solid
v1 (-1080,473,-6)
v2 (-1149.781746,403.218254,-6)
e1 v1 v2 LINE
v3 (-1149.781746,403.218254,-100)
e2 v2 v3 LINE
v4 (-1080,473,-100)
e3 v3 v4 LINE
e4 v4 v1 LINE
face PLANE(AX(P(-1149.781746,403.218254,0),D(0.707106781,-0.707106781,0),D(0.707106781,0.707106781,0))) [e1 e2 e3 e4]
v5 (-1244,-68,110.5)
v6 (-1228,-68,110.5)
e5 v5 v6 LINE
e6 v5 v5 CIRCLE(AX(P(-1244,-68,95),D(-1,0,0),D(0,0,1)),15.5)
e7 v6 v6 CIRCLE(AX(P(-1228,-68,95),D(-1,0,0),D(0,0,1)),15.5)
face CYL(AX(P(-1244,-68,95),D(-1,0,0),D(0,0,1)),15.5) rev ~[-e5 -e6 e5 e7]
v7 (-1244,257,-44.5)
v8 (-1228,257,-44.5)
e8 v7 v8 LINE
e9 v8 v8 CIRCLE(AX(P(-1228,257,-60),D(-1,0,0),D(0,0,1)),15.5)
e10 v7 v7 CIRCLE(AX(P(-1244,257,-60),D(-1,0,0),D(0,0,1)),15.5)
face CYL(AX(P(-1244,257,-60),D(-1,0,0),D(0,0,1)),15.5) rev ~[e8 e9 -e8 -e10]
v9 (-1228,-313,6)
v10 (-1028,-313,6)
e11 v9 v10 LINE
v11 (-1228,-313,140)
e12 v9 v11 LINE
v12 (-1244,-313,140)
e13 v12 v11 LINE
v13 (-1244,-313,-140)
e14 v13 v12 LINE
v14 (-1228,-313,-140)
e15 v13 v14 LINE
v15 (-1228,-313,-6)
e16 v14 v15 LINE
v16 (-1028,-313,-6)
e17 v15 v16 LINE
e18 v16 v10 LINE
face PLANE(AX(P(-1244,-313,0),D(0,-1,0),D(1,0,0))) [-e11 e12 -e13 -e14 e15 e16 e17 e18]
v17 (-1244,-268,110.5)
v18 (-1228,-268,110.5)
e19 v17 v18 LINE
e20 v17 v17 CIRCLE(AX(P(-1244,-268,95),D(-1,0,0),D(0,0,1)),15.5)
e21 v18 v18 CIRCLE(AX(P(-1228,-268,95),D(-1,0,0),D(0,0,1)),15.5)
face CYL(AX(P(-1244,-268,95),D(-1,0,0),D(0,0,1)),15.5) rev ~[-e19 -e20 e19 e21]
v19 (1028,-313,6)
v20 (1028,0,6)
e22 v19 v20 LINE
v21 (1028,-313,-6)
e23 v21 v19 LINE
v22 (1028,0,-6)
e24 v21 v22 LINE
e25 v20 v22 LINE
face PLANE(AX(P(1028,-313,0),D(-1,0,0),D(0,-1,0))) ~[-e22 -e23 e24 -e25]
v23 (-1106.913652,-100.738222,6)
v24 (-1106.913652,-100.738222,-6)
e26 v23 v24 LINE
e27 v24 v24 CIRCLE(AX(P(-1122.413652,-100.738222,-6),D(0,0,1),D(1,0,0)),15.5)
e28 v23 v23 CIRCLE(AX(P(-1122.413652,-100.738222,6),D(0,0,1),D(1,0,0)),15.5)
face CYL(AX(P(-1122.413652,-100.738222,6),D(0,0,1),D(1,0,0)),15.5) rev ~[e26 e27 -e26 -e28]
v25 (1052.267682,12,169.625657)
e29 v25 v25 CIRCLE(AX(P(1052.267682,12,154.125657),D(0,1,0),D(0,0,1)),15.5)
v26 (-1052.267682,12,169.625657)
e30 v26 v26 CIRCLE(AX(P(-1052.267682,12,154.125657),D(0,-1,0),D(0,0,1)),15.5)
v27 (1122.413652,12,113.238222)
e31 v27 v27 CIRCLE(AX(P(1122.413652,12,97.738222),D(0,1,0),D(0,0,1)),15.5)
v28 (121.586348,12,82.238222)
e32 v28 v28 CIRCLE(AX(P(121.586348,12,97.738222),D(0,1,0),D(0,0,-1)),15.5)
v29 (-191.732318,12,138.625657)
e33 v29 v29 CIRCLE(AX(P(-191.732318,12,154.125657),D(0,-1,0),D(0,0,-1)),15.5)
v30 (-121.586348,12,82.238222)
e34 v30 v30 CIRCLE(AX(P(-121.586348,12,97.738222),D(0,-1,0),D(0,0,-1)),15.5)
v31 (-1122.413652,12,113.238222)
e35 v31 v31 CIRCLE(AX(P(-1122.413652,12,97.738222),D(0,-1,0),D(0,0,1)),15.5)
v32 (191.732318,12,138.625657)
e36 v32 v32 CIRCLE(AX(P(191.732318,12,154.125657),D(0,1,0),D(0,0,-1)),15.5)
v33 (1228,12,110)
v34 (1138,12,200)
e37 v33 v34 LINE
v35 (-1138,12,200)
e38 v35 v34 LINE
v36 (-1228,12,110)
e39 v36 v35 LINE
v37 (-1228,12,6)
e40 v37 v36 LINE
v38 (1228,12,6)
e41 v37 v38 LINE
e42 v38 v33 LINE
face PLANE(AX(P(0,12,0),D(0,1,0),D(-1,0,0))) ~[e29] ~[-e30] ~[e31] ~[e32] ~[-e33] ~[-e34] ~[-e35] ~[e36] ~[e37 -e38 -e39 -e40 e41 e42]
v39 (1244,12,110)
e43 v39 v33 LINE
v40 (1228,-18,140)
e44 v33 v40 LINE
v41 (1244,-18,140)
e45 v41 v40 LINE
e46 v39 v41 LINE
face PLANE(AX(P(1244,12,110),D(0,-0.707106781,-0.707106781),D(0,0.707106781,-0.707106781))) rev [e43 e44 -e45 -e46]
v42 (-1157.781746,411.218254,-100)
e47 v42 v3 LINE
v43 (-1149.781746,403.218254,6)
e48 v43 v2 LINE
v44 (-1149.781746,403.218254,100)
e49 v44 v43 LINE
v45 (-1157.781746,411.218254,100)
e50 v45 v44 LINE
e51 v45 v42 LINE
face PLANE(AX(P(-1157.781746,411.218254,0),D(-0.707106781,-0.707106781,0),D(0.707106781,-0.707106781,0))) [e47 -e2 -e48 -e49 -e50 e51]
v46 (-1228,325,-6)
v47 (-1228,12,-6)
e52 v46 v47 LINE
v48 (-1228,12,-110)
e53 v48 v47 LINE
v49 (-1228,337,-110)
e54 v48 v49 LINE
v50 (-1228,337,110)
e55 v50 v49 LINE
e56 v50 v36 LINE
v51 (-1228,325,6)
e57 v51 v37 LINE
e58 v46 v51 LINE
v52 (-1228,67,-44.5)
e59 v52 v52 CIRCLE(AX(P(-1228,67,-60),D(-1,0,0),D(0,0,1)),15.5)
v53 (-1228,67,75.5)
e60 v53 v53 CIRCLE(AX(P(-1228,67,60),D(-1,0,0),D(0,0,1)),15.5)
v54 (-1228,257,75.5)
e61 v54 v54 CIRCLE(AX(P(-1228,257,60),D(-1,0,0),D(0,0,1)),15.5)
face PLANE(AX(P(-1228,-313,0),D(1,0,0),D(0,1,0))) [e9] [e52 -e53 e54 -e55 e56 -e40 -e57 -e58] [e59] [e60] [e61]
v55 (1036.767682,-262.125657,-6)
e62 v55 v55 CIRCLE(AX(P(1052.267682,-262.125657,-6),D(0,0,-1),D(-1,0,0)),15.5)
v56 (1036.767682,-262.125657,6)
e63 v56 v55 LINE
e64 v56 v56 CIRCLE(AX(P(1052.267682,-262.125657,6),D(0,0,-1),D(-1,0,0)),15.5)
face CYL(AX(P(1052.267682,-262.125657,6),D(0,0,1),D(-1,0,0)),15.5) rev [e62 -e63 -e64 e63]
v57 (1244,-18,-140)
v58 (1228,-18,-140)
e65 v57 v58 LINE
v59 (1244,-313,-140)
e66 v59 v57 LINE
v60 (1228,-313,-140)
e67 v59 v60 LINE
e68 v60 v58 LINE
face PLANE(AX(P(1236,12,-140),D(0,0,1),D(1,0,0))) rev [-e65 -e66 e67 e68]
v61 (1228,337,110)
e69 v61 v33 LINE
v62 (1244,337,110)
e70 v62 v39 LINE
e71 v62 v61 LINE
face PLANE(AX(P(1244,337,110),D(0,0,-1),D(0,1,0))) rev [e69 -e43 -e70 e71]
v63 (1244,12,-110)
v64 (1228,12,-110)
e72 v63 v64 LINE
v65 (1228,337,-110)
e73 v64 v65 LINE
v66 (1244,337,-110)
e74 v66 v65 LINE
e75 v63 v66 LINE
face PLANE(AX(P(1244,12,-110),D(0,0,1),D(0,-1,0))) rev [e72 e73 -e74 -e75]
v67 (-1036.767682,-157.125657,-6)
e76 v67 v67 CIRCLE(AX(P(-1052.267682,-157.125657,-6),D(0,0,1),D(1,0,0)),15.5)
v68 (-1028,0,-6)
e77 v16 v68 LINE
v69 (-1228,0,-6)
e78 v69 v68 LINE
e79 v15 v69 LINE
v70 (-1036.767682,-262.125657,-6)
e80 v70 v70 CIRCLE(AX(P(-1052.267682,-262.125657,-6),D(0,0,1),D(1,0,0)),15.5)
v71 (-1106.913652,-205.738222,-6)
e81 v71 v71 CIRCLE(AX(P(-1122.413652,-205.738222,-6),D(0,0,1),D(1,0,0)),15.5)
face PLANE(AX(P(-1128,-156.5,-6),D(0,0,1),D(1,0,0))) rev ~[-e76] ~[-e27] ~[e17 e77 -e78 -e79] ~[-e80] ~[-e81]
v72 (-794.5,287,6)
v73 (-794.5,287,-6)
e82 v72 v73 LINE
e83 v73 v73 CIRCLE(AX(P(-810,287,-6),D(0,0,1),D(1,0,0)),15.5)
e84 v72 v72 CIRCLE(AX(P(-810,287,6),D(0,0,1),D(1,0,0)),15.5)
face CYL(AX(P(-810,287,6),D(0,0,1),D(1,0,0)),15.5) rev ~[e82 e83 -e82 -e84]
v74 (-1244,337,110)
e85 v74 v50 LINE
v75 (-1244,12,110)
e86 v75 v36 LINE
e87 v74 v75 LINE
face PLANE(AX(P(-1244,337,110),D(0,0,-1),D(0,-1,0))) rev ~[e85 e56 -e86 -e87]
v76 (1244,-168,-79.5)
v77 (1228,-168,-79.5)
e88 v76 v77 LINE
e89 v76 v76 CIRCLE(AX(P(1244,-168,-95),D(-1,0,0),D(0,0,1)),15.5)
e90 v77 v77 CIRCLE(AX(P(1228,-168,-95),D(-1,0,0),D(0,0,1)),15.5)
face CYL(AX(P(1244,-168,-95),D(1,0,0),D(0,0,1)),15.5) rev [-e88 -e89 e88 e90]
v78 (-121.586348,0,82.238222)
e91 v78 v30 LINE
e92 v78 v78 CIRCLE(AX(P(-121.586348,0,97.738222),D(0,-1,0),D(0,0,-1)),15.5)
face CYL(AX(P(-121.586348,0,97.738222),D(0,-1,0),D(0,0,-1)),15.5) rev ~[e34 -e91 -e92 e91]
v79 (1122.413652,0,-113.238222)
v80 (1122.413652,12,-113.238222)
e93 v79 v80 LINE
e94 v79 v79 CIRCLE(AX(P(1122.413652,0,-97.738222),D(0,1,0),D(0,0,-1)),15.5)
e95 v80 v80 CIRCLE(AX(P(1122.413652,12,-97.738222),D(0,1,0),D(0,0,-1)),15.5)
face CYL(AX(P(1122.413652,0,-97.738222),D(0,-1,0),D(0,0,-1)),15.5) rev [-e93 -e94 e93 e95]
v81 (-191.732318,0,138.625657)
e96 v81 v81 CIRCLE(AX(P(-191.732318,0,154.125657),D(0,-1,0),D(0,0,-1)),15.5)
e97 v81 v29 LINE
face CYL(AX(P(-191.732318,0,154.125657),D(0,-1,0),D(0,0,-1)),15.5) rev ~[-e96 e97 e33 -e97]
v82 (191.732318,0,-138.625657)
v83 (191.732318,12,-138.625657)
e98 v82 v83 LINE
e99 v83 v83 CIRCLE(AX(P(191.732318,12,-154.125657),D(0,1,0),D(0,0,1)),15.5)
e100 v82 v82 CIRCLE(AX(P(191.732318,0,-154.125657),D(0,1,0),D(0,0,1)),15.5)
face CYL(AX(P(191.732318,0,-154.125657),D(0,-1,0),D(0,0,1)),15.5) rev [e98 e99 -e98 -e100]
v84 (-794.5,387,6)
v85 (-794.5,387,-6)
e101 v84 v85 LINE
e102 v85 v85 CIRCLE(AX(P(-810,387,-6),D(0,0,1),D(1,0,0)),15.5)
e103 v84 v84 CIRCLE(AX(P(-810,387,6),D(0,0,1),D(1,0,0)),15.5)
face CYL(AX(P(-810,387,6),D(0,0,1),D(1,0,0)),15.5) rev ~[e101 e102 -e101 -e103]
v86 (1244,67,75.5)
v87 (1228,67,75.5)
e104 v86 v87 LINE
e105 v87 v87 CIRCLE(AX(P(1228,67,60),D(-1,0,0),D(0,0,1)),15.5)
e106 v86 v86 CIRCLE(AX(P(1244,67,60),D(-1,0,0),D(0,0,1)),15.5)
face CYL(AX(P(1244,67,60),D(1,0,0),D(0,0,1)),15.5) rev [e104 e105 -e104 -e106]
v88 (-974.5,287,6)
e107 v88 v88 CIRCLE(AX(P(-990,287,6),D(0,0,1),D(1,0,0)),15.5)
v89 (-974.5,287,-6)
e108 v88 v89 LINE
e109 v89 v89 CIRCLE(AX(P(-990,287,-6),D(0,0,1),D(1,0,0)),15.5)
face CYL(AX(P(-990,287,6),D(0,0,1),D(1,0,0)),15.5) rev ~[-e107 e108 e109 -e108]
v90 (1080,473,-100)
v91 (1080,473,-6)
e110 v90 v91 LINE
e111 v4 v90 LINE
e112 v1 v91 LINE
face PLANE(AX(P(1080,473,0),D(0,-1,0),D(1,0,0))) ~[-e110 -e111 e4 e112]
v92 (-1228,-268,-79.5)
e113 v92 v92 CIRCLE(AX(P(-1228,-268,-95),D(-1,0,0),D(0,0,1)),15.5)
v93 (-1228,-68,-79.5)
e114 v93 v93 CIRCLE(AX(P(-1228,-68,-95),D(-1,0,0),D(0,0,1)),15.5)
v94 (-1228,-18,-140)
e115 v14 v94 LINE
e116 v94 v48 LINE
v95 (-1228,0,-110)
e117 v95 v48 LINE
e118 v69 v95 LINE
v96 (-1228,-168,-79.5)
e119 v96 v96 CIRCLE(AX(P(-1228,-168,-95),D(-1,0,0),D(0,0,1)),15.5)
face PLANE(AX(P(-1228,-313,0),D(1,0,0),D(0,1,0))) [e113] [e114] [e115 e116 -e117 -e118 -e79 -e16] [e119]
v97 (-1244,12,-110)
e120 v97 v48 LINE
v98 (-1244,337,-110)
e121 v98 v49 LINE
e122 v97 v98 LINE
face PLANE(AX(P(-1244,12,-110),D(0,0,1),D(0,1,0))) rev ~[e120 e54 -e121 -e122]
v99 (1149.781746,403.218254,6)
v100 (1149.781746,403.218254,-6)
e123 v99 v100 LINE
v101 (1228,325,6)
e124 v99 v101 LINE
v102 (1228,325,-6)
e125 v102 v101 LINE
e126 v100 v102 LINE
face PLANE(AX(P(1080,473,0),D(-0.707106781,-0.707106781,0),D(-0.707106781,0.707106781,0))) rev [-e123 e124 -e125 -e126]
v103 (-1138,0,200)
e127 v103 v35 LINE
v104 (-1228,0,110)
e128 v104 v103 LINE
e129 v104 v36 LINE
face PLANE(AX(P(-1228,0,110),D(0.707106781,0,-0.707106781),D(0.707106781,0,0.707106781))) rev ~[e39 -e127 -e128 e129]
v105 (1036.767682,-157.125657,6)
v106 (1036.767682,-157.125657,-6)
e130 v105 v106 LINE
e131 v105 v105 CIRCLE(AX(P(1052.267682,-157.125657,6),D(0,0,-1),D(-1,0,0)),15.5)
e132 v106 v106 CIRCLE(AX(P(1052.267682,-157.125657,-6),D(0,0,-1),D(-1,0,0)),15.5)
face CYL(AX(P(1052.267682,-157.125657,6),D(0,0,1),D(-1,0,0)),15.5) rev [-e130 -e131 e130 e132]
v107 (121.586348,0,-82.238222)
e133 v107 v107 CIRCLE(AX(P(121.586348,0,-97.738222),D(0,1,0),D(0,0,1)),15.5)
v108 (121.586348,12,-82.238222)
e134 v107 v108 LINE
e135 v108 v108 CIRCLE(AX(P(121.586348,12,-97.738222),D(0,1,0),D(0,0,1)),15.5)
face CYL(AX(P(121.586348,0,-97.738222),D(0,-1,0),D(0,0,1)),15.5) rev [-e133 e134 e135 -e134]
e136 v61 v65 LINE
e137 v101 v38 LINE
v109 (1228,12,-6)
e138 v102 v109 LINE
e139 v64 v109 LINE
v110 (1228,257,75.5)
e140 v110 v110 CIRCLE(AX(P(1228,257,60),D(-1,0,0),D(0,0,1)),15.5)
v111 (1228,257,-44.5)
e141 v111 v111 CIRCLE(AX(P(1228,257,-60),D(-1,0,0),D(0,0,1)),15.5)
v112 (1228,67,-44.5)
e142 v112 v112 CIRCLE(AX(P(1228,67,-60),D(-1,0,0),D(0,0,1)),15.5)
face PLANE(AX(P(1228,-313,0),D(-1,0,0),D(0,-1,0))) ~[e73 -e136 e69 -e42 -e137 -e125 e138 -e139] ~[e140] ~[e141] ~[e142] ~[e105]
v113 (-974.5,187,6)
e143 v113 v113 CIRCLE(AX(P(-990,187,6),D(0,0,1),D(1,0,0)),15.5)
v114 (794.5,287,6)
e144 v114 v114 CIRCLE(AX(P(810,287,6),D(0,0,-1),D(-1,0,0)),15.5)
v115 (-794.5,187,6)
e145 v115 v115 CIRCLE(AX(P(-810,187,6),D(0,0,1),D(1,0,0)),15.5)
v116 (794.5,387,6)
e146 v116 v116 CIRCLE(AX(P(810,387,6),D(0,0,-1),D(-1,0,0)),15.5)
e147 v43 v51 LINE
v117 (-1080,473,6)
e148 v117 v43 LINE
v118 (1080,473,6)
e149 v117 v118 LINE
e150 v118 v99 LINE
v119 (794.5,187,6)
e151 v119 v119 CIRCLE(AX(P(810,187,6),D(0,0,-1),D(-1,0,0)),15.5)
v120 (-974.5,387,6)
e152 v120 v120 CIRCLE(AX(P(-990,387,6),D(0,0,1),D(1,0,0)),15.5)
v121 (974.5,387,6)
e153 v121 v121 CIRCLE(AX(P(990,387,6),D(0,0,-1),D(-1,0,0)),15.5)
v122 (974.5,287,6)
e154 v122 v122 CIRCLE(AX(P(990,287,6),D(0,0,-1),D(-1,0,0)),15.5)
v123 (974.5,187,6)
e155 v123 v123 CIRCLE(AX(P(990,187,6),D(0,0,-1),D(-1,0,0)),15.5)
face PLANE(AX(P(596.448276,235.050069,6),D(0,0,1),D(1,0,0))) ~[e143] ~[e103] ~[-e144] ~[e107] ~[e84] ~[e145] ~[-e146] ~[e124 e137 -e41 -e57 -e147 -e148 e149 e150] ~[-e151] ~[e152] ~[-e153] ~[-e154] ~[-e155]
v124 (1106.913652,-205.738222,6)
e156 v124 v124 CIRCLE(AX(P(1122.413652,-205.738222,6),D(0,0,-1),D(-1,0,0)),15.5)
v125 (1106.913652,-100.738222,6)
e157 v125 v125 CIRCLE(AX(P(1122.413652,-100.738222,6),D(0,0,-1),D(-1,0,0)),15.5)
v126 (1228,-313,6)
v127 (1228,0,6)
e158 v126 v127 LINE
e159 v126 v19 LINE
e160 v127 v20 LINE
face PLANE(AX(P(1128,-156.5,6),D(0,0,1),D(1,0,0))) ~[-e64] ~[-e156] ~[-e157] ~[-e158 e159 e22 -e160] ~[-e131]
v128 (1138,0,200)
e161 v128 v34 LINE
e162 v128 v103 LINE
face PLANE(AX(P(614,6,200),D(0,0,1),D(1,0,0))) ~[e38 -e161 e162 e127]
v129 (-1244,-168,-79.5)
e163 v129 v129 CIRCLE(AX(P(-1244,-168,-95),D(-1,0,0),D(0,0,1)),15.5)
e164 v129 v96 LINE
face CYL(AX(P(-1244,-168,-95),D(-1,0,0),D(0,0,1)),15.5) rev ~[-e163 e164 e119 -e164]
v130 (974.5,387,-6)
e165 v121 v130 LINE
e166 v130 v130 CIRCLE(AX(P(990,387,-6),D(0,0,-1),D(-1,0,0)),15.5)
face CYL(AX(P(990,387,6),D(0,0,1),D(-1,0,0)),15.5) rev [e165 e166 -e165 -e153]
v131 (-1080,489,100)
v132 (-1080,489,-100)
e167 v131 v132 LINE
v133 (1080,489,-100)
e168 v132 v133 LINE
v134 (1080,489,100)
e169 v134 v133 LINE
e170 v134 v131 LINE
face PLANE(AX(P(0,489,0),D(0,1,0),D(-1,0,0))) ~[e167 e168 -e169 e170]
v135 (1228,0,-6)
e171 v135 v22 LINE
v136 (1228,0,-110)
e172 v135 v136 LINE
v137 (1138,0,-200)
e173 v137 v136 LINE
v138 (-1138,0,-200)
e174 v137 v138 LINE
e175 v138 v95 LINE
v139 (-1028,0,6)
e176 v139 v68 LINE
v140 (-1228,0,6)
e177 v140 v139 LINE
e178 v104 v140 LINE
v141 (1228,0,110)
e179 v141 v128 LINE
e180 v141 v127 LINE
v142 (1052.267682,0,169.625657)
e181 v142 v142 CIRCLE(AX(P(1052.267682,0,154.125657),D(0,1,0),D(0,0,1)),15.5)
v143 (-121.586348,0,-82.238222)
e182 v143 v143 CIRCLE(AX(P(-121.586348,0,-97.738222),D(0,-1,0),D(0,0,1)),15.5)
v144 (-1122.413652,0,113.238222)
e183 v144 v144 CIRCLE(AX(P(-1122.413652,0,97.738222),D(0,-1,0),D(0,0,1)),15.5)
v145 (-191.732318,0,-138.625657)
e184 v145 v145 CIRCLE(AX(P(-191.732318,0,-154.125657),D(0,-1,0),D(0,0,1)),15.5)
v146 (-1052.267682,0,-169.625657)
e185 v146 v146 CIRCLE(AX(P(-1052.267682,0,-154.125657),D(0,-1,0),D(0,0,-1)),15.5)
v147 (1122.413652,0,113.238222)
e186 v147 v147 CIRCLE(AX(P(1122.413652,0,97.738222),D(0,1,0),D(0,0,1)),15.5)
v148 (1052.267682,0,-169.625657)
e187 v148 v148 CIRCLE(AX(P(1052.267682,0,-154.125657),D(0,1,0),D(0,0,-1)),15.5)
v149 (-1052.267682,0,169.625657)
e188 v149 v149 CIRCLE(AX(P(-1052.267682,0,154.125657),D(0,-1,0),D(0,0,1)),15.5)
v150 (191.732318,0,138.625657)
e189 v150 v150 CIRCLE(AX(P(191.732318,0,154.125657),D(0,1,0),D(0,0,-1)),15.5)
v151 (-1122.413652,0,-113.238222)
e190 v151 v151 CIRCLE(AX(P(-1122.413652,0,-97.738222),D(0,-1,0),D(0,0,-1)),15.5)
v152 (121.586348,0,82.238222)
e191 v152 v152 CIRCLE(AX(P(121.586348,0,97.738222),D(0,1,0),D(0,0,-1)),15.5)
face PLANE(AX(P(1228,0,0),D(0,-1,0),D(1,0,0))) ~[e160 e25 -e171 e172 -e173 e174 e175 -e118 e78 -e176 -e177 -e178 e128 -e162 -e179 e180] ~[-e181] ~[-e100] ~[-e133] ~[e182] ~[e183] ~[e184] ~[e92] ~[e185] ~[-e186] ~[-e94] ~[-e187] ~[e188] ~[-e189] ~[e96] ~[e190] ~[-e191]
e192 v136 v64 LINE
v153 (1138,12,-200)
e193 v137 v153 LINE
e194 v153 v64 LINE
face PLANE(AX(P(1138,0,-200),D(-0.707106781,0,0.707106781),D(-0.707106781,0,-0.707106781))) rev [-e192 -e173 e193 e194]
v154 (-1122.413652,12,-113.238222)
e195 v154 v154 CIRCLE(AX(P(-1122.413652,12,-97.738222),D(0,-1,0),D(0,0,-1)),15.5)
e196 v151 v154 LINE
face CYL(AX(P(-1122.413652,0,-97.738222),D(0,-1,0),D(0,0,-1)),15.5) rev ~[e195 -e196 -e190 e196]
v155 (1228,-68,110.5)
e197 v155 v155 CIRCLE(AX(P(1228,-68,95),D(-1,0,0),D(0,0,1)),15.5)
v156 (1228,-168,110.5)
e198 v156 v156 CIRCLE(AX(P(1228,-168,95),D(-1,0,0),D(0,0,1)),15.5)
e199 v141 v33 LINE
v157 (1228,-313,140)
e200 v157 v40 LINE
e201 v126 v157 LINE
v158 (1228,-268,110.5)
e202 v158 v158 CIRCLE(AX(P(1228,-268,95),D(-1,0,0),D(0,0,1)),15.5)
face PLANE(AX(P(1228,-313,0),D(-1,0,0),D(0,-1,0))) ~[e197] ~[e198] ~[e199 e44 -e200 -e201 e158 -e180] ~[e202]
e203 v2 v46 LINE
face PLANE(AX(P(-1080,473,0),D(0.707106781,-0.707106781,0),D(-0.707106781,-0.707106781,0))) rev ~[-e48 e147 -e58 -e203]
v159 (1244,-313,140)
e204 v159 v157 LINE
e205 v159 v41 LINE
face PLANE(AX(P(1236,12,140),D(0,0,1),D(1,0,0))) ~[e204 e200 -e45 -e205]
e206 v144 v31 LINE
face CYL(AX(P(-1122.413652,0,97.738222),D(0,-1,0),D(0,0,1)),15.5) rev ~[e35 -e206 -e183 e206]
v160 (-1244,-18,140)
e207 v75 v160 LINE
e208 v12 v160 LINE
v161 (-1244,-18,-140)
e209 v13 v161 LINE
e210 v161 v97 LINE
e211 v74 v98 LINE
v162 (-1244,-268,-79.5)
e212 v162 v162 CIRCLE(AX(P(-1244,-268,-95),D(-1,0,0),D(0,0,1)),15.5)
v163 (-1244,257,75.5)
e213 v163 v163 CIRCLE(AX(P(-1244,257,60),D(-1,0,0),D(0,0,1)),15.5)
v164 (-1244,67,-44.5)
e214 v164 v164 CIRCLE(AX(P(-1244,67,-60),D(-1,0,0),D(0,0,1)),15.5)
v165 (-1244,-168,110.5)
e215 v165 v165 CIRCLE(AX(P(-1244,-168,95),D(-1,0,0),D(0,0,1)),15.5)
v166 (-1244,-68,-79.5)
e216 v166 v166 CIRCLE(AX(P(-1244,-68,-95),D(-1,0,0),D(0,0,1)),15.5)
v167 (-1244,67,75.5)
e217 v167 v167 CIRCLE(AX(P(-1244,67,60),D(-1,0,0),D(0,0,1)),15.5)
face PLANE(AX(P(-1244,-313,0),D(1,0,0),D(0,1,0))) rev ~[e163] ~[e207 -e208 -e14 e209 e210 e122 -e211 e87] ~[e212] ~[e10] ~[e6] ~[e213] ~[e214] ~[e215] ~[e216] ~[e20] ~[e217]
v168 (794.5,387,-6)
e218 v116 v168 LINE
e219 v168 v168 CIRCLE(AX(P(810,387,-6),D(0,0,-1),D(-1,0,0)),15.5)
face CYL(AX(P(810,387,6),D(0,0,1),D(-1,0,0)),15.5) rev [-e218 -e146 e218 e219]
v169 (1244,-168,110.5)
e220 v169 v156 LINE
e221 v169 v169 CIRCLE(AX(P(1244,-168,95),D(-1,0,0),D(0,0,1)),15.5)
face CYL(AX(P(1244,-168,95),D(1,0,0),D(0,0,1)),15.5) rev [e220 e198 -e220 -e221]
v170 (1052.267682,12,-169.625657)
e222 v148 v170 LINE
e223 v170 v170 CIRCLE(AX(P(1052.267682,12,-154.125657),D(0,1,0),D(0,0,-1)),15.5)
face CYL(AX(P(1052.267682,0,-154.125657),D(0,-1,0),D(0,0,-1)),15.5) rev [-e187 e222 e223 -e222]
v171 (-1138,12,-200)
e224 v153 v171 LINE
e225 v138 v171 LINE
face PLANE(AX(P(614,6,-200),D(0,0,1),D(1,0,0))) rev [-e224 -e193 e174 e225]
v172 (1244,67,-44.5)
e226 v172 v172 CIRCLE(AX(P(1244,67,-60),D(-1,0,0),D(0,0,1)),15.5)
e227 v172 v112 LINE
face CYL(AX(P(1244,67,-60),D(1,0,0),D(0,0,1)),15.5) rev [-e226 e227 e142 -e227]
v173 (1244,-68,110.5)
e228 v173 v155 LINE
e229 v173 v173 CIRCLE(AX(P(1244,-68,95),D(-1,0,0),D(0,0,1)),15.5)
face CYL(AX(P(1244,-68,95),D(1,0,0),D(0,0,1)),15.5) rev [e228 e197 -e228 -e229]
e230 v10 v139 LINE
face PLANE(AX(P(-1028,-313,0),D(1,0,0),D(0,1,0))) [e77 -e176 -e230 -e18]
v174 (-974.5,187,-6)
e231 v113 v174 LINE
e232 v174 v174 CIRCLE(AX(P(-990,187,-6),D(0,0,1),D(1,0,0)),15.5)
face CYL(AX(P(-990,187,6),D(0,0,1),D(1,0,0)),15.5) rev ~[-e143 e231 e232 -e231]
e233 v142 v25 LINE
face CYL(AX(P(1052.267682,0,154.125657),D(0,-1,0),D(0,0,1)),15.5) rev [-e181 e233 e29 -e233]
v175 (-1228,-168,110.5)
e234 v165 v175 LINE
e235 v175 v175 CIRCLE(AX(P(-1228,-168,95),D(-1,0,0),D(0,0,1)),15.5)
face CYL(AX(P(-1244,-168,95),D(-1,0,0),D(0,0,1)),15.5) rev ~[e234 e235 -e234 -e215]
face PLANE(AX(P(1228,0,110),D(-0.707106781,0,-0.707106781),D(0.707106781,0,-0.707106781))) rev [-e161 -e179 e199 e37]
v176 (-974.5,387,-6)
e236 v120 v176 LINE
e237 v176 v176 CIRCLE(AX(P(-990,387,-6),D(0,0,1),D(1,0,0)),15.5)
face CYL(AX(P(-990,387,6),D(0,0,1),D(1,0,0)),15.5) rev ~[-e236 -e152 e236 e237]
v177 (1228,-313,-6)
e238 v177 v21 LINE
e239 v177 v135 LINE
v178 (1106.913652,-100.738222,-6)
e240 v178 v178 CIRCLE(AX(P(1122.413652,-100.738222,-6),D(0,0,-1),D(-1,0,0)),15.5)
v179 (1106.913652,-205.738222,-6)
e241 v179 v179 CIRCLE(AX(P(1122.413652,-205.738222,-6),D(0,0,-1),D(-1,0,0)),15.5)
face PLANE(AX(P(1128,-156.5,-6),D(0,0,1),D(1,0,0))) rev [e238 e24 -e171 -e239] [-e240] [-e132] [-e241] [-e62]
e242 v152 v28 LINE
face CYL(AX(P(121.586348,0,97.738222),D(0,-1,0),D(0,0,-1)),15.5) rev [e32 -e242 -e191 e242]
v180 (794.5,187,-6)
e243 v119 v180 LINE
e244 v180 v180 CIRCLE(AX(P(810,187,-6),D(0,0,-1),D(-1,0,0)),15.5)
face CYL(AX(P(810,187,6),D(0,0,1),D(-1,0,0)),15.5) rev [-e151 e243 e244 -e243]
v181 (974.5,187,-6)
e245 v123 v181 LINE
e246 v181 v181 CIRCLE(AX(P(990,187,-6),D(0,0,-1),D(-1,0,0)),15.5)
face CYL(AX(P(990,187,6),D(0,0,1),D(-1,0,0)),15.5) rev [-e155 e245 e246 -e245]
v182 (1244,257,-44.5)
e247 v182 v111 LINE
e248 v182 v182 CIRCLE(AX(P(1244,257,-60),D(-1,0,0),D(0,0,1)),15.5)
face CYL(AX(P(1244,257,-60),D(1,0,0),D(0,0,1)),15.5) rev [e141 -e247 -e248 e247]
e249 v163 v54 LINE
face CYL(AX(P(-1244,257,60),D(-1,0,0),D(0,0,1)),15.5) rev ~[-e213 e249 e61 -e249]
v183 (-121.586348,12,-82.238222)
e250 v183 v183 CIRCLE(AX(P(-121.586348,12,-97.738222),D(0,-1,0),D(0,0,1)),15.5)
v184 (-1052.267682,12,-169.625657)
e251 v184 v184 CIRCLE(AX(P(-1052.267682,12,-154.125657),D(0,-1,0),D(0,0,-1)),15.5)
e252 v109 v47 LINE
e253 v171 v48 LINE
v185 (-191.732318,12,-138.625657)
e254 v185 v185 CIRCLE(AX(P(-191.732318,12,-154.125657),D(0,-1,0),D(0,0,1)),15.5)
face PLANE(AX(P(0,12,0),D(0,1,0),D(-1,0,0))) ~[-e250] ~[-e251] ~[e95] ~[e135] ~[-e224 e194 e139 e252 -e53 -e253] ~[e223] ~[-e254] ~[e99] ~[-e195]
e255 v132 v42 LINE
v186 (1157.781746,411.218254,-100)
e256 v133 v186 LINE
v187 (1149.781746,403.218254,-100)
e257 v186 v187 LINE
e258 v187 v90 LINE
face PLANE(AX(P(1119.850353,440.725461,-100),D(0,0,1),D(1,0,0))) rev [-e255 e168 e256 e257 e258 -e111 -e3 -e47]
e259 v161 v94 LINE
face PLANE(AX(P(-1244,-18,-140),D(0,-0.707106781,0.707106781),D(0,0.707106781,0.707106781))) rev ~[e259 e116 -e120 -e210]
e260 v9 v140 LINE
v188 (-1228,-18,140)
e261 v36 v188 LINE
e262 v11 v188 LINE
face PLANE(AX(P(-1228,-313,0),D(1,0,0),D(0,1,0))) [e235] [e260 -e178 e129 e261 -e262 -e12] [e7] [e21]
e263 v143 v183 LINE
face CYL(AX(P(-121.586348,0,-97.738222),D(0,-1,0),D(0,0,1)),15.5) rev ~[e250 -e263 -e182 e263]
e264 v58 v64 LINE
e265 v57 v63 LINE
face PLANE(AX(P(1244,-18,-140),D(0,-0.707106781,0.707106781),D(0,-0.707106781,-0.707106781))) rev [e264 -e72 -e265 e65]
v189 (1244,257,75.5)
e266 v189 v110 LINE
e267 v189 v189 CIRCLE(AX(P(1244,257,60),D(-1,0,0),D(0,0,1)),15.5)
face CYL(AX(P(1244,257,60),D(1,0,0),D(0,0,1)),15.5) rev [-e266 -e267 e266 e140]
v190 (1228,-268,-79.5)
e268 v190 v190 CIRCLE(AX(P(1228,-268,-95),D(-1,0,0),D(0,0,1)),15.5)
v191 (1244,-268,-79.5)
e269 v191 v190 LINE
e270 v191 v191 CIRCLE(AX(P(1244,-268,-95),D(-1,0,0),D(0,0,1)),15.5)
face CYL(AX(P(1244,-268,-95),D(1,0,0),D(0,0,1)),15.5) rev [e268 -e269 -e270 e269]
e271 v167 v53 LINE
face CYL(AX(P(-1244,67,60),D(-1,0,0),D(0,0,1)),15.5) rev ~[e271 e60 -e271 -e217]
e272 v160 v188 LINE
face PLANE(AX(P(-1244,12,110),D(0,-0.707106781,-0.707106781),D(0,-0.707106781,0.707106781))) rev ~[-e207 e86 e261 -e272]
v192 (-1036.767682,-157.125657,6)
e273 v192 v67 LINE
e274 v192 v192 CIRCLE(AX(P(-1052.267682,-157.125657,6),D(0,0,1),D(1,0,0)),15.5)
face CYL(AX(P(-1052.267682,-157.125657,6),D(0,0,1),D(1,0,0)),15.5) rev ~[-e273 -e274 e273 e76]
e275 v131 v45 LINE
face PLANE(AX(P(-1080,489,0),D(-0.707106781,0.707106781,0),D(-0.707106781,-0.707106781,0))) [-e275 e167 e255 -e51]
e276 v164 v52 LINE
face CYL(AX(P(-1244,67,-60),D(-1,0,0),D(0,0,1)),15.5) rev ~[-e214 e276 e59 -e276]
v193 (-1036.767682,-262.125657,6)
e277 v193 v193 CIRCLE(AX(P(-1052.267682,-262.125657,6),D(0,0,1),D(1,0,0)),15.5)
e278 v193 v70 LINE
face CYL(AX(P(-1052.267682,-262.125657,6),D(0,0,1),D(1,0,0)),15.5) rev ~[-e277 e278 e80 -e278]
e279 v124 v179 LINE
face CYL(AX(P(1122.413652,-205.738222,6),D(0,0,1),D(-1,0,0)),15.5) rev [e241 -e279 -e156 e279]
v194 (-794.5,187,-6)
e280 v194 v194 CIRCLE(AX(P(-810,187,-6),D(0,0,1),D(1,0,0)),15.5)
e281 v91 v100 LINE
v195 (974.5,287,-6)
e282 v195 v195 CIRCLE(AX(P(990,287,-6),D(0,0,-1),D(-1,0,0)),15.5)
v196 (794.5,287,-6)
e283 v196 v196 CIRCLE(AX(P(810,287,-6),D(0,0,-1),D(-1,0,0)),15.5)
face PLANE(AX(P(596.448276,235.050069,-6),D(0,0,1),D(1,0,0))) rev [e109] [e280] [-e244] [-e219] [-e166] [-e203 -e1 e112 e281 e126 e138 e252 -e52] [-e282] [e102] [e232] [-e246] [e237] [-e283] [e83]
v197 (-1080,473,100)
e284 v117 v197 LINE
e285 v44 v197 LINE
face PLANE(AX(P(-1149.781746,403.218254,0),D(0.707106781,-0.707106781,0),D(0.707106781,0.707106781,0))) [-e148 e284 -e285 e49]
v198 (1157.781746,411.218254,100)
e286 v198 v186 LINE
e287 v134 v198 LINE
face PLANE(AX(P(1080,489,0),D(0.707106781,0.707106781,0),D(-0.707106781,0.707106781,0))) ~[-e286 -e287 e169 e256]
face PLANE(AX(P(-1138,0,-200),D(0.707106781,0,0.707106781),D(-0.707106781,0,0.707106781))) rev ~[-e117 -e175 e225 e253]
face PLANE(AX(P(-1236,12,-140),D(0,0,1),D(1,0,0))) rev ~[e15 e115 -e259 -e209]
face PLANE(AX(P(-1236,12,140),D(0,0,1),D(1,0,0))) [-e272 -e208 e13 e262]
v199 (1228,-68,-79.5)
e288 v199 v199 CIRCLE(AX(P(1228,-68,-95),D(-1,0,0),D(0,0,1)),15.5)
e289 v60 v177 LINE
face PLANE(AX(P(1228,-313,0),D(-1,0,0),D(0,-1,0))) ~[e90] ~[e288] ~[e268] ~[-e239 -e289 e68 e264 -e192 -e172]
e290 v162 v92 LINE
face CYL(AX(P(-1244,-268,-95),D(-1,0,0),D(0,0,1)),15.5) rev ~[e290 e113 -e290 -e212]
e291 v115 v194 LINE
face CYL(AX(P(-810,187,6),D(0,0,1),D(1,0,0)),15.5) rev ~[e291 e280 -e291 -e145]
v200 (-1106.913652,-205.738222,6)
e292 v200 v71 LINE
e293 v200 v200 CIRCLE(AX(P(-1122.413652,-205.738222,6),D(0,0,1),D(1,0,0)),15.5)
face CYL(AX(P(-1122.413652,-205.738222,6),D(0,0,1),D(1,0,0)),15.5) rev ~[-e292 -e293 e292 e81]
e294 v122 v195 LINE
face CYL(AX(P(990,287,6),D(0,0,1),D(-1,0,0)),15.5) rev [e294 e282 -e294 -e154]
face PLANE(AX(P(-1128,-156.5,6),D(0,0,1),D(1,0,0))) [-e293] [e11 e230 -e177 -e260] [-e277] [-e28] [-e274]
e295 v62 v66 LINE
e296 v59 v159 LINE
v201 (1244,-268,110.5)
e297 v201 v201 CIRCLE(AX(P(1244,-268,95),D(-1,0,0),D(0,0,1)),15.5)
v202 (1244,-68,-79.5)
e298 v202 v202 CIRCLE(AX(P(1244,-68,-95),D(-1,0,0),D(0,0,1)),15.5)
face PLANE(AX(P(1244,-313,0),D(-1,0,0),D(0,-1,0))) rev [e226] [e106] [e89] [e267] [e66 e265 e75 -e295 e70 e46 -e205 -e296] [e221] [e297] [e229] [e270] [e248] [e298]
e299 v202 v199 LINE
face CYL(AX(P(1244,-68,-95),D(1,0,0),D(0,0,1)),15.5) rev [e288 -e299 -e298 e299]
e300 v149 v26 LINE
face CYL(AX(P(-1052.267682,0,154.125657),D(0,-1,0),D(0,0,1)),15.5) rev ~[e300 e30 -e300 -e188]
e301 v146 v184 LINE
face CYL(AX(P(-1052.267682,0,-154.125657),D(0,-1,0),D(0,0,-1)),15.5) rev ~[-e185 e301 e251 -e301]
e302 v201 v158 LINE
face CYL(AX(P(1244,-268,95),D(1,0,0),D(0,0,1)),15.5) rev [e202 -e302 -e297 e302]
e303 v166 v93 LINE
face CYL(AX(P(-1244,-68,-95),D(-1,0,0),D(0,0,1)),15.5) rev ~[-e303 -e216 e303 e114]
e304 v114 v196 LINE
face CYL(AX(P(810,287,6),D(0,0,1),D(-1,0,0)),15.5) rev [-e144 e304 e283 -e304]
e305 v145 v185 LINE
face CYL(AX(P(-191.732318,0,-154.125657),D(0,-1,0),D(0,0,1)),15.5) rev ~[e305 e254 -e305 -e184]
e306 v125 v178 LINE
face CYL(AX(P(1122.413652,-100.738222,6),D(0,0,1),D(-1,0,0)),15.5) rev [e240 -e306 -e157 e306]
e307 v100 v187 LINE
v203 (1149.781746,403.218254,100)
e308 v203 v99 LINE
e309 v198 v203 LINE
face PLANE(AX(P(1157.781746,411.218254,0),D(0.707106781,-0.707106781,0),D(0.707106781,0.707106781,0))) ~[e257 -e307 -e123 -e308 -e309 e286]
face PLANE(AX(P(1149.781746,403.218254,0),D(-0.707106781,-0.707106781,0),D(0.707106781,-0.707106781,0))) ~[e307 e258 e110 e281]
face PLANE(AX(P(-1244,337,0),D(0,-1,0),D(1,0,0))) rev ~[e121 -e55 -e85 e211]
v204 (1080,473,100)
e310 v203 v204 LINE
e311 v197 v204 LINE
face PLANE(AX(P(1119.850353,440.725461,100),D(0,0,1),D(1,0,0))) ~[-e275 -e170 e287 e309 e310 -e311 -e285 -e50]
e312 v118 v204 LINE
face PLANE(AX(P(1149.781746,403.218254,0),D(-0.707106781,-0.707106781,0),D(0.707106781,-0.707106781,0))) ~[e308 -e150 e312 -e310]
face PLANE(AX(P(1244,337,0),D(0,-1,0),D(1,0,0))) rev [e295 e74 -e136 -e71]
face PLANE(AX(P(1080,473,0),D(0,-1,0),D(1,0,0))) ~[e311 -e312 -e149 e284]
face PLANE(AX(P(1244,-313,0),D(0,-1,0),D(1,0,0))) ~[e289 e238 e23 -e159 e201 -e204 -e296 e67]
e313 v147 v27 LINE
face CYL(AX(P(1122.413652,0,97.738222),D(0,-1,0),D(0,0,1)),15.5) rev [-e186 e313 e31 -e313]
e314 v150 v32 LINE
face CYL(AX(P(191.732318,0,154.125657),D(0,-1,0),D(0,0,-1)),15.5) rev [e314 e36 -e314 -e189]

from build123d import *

# Parameters (mm, degrees)
EXTRUDE_1_DEPTH     = 200
SKETCH_2_3_W        = 16
SKETCH_2_3_H        = 650
EXTRUDE_2_DEPTH     = 140
SKETCH_2_4_W        = 200
SKETCH_2_4_H        = 313
EXTRUDE_3_DEPTH     = 6
EXTRUDE_4_DEPTH     = 100
SKETCH_3_R          = 15.5
CUT_EXTRUDE_5_DEPTH = 1353.439647452
SKETCH_6_R          = 15.5
CUT_EXTRUDE_6_DEPTH = 1353.439647452
SKETCH_7_R          = 15.5
CUT_EXTRUDE_7_DEPTH = 16
SKETCH_8_R          = 15.5
CUT_EXTRUDE_8_DEPTH = 12


with BuildPart() as part:
    # 草图2 → 拉伸1 (new, symmetric)
    with BuildSketch(Plane.XY):
        Polygon((0, 0), (0, 12), (-1228, 12), (-1228, 0), (-1028, 0), align=None)
    extrude(amount=EXTRUDE_1_DEPTH, both=True)

    # 草图2<3> → 拉伸2 (add, symmetric)
    with BuildSketch(Plane.XY):
        with Locations((-1236, 12)):
            Rectangle(SKETCH_2_3_W, SKETCH_2_3_H)
    extrude(amount=EXTRUDE_2_DEPTH, both=True)

    # 草图2<4> → 拉伸3 (add, symmetric)
    with BuildSketch(Plane.XY):
        Polygon((0, 473), (-1080, 473), (-1149.781745931, 403.218254069), (-1228, 325), (-1228, 12), (0, 12), align=None)
        with Locations((-1128, -156.5)):
            Rectangle(SKETCH_2_4_W, SKETCH_2_4_H)
    extrude(amount=EXTRUDE_3_DEPTH, both=True)

    # 草图2<5> → 拉伸4 (add, symmetric)
    with BuildSketch(Plane.XY):
        Polygon((-1149.781745931, 403.218254069), (-1080, 473), (-1096, 473), (-1157.781745931, 411.218254069), align=None)
        Polygon((-1096, 473), (-1080, 473), (0, 473), (0, 489), (-1080, 489), align=None)
    extrude(amount=EXTRUDE_4_DEPTH, both=True)

    # 草图3 → 拉伸5 (cut, through all)
    with BuildSketch(Plane.XY.offset(6)):
        with Locations((-990, 387)):
            Circle(SKETCH_3_R)
        with Locations((-810, 387)):
            Circle(SKETCH_3_R)
        with Locations((-990, 287)):
            Circle(SKETCH_3_R)
        with Locations((-810, 287)):
            Circle(SKETCH_3_R)
        with Locations((-990, 187)):
            Circle(SKETCH_3_R)
        with Locations((-810, 187)):
            Circle(SKETCH_3_R)
    extrude(amount=-CUT_EXTRUDE_5_DEPTH, mode=Mode.SUBTRACT)

    # 草图6 → 拉伸6 (cut, through all)
    with BuildSketch(Plane.XY.offset(6)):
        with Locations((-1122.413652083, -100.738221798)):
            Circle(SKETCH_6_R)
        with Locations((-1052.267682131, -157.125657451)):
            Circle(SKETCH_6_R)
        with Locations((-1122.413652083, -205.738221798)):
            Circle(SKETCH_6_R)
        with Locations((-1052.267682131, -262.125657451)):
            Circle(SKETCH_6_R)
    extrude(amount=-CUT_EXTRUDE_6_DEPTH, mode=Mode.SUBTRACT)

    # 草图7 → 拉伸7 (cut)
    with BuildSketch(Plane.ZY.offset(1244)):
        Polygon((-110, 12), (-110, 337), (-140, 337), (-140, -18), align=None)
        Polygon((140, 337), (110, 337), (110, 12), (140, -18), align=None)
        with Locations((60, 257)):
            Circle(SKETCH_7_R)
        with Locations((-60, 257)):
            Circle(SKETCH_7_R)
        with Locations((60, 67)):
            Circle(SKETCH_7_R)
        with Locations((-60, 67)):
            Circle(SKETCH_7_R)
        with Locations((95, -268)):
            Circle(SKETCH_7_R)
        with Locations((-95, -268)):
            Circle(SKETCH_7_R)
        with Locations((95, -168)):
            Circle(SKETCH_7_R)
        with Locations((-95, -168)):
            Circle(SKETCH_7_R)
        with Locations((95, -68)):
            Circle(SKETCH_7_R)
        with Locations((-95, -68)):
            Circle(SKETCH_7_R)
    extrude(amount=-CUT_EXTRUDE_7_DEPTH, mode=Mode.SUBTRACT)

    # 草图8 → 拉伸8 (cut)
    with BuildSketch(Plane.XZ):
        Polygon((-1228, 110), (-1138, 200), (-1228, 200), align=None)
        Polygon((-1228, -200), (-1138, -200), (-1228, -110), align=None)
        with Locations(Location((-1122.413652083, -97.738221798, 0), (0, 0, 270))):
            Circle(SKETCH_8_R)
        with Locations(Location((-1052.267682131, -154.125657451, 0), (0, 0, 270))):
            Circle(SKETCH_8_R)
        with Locations(Location((-1052.267682131, 154.125657451, 0), (0, 0, 90))):
            Circle(SKETCH_8_R)
        with Locations(Location((-1122.413652083, 97.738221798, 0), (0, 0, 90))):
            Circle(SKETCH_8_R)
        with Locations(Location((-191.732317869, -154.125657451, 0), (0, 0, 90))):
            Circle(SKETCH_8_R)
        with Locations(Location((-121.586347917, -97.738221798, 0), (0, 0, 90))):
            Circle(SKETCH_8_R)
        with Locations(Location((-191.732317869, 154.125657451, 0), (0, 0, 270))):
            Circle(SKETCH_8_R)
        with Locations(Location((-121.586347917, 97.738221798, 0), (0, 0, 270))):
            Circle(SKETCH_8_R)
    extrude(amount=-CUT_EXTRUDE_8_DEPTH, mode=Mode.SUBTRACT)

    # 镜向1: part across plane


with BuildPart() as part_1:
    add(part.part)
    add(part.part.mirror(Plane(origin=(0, 0, 200), x_dir=(0, 0, 1), z_dir=(1, 0, 0))))


solid = part_1.part
